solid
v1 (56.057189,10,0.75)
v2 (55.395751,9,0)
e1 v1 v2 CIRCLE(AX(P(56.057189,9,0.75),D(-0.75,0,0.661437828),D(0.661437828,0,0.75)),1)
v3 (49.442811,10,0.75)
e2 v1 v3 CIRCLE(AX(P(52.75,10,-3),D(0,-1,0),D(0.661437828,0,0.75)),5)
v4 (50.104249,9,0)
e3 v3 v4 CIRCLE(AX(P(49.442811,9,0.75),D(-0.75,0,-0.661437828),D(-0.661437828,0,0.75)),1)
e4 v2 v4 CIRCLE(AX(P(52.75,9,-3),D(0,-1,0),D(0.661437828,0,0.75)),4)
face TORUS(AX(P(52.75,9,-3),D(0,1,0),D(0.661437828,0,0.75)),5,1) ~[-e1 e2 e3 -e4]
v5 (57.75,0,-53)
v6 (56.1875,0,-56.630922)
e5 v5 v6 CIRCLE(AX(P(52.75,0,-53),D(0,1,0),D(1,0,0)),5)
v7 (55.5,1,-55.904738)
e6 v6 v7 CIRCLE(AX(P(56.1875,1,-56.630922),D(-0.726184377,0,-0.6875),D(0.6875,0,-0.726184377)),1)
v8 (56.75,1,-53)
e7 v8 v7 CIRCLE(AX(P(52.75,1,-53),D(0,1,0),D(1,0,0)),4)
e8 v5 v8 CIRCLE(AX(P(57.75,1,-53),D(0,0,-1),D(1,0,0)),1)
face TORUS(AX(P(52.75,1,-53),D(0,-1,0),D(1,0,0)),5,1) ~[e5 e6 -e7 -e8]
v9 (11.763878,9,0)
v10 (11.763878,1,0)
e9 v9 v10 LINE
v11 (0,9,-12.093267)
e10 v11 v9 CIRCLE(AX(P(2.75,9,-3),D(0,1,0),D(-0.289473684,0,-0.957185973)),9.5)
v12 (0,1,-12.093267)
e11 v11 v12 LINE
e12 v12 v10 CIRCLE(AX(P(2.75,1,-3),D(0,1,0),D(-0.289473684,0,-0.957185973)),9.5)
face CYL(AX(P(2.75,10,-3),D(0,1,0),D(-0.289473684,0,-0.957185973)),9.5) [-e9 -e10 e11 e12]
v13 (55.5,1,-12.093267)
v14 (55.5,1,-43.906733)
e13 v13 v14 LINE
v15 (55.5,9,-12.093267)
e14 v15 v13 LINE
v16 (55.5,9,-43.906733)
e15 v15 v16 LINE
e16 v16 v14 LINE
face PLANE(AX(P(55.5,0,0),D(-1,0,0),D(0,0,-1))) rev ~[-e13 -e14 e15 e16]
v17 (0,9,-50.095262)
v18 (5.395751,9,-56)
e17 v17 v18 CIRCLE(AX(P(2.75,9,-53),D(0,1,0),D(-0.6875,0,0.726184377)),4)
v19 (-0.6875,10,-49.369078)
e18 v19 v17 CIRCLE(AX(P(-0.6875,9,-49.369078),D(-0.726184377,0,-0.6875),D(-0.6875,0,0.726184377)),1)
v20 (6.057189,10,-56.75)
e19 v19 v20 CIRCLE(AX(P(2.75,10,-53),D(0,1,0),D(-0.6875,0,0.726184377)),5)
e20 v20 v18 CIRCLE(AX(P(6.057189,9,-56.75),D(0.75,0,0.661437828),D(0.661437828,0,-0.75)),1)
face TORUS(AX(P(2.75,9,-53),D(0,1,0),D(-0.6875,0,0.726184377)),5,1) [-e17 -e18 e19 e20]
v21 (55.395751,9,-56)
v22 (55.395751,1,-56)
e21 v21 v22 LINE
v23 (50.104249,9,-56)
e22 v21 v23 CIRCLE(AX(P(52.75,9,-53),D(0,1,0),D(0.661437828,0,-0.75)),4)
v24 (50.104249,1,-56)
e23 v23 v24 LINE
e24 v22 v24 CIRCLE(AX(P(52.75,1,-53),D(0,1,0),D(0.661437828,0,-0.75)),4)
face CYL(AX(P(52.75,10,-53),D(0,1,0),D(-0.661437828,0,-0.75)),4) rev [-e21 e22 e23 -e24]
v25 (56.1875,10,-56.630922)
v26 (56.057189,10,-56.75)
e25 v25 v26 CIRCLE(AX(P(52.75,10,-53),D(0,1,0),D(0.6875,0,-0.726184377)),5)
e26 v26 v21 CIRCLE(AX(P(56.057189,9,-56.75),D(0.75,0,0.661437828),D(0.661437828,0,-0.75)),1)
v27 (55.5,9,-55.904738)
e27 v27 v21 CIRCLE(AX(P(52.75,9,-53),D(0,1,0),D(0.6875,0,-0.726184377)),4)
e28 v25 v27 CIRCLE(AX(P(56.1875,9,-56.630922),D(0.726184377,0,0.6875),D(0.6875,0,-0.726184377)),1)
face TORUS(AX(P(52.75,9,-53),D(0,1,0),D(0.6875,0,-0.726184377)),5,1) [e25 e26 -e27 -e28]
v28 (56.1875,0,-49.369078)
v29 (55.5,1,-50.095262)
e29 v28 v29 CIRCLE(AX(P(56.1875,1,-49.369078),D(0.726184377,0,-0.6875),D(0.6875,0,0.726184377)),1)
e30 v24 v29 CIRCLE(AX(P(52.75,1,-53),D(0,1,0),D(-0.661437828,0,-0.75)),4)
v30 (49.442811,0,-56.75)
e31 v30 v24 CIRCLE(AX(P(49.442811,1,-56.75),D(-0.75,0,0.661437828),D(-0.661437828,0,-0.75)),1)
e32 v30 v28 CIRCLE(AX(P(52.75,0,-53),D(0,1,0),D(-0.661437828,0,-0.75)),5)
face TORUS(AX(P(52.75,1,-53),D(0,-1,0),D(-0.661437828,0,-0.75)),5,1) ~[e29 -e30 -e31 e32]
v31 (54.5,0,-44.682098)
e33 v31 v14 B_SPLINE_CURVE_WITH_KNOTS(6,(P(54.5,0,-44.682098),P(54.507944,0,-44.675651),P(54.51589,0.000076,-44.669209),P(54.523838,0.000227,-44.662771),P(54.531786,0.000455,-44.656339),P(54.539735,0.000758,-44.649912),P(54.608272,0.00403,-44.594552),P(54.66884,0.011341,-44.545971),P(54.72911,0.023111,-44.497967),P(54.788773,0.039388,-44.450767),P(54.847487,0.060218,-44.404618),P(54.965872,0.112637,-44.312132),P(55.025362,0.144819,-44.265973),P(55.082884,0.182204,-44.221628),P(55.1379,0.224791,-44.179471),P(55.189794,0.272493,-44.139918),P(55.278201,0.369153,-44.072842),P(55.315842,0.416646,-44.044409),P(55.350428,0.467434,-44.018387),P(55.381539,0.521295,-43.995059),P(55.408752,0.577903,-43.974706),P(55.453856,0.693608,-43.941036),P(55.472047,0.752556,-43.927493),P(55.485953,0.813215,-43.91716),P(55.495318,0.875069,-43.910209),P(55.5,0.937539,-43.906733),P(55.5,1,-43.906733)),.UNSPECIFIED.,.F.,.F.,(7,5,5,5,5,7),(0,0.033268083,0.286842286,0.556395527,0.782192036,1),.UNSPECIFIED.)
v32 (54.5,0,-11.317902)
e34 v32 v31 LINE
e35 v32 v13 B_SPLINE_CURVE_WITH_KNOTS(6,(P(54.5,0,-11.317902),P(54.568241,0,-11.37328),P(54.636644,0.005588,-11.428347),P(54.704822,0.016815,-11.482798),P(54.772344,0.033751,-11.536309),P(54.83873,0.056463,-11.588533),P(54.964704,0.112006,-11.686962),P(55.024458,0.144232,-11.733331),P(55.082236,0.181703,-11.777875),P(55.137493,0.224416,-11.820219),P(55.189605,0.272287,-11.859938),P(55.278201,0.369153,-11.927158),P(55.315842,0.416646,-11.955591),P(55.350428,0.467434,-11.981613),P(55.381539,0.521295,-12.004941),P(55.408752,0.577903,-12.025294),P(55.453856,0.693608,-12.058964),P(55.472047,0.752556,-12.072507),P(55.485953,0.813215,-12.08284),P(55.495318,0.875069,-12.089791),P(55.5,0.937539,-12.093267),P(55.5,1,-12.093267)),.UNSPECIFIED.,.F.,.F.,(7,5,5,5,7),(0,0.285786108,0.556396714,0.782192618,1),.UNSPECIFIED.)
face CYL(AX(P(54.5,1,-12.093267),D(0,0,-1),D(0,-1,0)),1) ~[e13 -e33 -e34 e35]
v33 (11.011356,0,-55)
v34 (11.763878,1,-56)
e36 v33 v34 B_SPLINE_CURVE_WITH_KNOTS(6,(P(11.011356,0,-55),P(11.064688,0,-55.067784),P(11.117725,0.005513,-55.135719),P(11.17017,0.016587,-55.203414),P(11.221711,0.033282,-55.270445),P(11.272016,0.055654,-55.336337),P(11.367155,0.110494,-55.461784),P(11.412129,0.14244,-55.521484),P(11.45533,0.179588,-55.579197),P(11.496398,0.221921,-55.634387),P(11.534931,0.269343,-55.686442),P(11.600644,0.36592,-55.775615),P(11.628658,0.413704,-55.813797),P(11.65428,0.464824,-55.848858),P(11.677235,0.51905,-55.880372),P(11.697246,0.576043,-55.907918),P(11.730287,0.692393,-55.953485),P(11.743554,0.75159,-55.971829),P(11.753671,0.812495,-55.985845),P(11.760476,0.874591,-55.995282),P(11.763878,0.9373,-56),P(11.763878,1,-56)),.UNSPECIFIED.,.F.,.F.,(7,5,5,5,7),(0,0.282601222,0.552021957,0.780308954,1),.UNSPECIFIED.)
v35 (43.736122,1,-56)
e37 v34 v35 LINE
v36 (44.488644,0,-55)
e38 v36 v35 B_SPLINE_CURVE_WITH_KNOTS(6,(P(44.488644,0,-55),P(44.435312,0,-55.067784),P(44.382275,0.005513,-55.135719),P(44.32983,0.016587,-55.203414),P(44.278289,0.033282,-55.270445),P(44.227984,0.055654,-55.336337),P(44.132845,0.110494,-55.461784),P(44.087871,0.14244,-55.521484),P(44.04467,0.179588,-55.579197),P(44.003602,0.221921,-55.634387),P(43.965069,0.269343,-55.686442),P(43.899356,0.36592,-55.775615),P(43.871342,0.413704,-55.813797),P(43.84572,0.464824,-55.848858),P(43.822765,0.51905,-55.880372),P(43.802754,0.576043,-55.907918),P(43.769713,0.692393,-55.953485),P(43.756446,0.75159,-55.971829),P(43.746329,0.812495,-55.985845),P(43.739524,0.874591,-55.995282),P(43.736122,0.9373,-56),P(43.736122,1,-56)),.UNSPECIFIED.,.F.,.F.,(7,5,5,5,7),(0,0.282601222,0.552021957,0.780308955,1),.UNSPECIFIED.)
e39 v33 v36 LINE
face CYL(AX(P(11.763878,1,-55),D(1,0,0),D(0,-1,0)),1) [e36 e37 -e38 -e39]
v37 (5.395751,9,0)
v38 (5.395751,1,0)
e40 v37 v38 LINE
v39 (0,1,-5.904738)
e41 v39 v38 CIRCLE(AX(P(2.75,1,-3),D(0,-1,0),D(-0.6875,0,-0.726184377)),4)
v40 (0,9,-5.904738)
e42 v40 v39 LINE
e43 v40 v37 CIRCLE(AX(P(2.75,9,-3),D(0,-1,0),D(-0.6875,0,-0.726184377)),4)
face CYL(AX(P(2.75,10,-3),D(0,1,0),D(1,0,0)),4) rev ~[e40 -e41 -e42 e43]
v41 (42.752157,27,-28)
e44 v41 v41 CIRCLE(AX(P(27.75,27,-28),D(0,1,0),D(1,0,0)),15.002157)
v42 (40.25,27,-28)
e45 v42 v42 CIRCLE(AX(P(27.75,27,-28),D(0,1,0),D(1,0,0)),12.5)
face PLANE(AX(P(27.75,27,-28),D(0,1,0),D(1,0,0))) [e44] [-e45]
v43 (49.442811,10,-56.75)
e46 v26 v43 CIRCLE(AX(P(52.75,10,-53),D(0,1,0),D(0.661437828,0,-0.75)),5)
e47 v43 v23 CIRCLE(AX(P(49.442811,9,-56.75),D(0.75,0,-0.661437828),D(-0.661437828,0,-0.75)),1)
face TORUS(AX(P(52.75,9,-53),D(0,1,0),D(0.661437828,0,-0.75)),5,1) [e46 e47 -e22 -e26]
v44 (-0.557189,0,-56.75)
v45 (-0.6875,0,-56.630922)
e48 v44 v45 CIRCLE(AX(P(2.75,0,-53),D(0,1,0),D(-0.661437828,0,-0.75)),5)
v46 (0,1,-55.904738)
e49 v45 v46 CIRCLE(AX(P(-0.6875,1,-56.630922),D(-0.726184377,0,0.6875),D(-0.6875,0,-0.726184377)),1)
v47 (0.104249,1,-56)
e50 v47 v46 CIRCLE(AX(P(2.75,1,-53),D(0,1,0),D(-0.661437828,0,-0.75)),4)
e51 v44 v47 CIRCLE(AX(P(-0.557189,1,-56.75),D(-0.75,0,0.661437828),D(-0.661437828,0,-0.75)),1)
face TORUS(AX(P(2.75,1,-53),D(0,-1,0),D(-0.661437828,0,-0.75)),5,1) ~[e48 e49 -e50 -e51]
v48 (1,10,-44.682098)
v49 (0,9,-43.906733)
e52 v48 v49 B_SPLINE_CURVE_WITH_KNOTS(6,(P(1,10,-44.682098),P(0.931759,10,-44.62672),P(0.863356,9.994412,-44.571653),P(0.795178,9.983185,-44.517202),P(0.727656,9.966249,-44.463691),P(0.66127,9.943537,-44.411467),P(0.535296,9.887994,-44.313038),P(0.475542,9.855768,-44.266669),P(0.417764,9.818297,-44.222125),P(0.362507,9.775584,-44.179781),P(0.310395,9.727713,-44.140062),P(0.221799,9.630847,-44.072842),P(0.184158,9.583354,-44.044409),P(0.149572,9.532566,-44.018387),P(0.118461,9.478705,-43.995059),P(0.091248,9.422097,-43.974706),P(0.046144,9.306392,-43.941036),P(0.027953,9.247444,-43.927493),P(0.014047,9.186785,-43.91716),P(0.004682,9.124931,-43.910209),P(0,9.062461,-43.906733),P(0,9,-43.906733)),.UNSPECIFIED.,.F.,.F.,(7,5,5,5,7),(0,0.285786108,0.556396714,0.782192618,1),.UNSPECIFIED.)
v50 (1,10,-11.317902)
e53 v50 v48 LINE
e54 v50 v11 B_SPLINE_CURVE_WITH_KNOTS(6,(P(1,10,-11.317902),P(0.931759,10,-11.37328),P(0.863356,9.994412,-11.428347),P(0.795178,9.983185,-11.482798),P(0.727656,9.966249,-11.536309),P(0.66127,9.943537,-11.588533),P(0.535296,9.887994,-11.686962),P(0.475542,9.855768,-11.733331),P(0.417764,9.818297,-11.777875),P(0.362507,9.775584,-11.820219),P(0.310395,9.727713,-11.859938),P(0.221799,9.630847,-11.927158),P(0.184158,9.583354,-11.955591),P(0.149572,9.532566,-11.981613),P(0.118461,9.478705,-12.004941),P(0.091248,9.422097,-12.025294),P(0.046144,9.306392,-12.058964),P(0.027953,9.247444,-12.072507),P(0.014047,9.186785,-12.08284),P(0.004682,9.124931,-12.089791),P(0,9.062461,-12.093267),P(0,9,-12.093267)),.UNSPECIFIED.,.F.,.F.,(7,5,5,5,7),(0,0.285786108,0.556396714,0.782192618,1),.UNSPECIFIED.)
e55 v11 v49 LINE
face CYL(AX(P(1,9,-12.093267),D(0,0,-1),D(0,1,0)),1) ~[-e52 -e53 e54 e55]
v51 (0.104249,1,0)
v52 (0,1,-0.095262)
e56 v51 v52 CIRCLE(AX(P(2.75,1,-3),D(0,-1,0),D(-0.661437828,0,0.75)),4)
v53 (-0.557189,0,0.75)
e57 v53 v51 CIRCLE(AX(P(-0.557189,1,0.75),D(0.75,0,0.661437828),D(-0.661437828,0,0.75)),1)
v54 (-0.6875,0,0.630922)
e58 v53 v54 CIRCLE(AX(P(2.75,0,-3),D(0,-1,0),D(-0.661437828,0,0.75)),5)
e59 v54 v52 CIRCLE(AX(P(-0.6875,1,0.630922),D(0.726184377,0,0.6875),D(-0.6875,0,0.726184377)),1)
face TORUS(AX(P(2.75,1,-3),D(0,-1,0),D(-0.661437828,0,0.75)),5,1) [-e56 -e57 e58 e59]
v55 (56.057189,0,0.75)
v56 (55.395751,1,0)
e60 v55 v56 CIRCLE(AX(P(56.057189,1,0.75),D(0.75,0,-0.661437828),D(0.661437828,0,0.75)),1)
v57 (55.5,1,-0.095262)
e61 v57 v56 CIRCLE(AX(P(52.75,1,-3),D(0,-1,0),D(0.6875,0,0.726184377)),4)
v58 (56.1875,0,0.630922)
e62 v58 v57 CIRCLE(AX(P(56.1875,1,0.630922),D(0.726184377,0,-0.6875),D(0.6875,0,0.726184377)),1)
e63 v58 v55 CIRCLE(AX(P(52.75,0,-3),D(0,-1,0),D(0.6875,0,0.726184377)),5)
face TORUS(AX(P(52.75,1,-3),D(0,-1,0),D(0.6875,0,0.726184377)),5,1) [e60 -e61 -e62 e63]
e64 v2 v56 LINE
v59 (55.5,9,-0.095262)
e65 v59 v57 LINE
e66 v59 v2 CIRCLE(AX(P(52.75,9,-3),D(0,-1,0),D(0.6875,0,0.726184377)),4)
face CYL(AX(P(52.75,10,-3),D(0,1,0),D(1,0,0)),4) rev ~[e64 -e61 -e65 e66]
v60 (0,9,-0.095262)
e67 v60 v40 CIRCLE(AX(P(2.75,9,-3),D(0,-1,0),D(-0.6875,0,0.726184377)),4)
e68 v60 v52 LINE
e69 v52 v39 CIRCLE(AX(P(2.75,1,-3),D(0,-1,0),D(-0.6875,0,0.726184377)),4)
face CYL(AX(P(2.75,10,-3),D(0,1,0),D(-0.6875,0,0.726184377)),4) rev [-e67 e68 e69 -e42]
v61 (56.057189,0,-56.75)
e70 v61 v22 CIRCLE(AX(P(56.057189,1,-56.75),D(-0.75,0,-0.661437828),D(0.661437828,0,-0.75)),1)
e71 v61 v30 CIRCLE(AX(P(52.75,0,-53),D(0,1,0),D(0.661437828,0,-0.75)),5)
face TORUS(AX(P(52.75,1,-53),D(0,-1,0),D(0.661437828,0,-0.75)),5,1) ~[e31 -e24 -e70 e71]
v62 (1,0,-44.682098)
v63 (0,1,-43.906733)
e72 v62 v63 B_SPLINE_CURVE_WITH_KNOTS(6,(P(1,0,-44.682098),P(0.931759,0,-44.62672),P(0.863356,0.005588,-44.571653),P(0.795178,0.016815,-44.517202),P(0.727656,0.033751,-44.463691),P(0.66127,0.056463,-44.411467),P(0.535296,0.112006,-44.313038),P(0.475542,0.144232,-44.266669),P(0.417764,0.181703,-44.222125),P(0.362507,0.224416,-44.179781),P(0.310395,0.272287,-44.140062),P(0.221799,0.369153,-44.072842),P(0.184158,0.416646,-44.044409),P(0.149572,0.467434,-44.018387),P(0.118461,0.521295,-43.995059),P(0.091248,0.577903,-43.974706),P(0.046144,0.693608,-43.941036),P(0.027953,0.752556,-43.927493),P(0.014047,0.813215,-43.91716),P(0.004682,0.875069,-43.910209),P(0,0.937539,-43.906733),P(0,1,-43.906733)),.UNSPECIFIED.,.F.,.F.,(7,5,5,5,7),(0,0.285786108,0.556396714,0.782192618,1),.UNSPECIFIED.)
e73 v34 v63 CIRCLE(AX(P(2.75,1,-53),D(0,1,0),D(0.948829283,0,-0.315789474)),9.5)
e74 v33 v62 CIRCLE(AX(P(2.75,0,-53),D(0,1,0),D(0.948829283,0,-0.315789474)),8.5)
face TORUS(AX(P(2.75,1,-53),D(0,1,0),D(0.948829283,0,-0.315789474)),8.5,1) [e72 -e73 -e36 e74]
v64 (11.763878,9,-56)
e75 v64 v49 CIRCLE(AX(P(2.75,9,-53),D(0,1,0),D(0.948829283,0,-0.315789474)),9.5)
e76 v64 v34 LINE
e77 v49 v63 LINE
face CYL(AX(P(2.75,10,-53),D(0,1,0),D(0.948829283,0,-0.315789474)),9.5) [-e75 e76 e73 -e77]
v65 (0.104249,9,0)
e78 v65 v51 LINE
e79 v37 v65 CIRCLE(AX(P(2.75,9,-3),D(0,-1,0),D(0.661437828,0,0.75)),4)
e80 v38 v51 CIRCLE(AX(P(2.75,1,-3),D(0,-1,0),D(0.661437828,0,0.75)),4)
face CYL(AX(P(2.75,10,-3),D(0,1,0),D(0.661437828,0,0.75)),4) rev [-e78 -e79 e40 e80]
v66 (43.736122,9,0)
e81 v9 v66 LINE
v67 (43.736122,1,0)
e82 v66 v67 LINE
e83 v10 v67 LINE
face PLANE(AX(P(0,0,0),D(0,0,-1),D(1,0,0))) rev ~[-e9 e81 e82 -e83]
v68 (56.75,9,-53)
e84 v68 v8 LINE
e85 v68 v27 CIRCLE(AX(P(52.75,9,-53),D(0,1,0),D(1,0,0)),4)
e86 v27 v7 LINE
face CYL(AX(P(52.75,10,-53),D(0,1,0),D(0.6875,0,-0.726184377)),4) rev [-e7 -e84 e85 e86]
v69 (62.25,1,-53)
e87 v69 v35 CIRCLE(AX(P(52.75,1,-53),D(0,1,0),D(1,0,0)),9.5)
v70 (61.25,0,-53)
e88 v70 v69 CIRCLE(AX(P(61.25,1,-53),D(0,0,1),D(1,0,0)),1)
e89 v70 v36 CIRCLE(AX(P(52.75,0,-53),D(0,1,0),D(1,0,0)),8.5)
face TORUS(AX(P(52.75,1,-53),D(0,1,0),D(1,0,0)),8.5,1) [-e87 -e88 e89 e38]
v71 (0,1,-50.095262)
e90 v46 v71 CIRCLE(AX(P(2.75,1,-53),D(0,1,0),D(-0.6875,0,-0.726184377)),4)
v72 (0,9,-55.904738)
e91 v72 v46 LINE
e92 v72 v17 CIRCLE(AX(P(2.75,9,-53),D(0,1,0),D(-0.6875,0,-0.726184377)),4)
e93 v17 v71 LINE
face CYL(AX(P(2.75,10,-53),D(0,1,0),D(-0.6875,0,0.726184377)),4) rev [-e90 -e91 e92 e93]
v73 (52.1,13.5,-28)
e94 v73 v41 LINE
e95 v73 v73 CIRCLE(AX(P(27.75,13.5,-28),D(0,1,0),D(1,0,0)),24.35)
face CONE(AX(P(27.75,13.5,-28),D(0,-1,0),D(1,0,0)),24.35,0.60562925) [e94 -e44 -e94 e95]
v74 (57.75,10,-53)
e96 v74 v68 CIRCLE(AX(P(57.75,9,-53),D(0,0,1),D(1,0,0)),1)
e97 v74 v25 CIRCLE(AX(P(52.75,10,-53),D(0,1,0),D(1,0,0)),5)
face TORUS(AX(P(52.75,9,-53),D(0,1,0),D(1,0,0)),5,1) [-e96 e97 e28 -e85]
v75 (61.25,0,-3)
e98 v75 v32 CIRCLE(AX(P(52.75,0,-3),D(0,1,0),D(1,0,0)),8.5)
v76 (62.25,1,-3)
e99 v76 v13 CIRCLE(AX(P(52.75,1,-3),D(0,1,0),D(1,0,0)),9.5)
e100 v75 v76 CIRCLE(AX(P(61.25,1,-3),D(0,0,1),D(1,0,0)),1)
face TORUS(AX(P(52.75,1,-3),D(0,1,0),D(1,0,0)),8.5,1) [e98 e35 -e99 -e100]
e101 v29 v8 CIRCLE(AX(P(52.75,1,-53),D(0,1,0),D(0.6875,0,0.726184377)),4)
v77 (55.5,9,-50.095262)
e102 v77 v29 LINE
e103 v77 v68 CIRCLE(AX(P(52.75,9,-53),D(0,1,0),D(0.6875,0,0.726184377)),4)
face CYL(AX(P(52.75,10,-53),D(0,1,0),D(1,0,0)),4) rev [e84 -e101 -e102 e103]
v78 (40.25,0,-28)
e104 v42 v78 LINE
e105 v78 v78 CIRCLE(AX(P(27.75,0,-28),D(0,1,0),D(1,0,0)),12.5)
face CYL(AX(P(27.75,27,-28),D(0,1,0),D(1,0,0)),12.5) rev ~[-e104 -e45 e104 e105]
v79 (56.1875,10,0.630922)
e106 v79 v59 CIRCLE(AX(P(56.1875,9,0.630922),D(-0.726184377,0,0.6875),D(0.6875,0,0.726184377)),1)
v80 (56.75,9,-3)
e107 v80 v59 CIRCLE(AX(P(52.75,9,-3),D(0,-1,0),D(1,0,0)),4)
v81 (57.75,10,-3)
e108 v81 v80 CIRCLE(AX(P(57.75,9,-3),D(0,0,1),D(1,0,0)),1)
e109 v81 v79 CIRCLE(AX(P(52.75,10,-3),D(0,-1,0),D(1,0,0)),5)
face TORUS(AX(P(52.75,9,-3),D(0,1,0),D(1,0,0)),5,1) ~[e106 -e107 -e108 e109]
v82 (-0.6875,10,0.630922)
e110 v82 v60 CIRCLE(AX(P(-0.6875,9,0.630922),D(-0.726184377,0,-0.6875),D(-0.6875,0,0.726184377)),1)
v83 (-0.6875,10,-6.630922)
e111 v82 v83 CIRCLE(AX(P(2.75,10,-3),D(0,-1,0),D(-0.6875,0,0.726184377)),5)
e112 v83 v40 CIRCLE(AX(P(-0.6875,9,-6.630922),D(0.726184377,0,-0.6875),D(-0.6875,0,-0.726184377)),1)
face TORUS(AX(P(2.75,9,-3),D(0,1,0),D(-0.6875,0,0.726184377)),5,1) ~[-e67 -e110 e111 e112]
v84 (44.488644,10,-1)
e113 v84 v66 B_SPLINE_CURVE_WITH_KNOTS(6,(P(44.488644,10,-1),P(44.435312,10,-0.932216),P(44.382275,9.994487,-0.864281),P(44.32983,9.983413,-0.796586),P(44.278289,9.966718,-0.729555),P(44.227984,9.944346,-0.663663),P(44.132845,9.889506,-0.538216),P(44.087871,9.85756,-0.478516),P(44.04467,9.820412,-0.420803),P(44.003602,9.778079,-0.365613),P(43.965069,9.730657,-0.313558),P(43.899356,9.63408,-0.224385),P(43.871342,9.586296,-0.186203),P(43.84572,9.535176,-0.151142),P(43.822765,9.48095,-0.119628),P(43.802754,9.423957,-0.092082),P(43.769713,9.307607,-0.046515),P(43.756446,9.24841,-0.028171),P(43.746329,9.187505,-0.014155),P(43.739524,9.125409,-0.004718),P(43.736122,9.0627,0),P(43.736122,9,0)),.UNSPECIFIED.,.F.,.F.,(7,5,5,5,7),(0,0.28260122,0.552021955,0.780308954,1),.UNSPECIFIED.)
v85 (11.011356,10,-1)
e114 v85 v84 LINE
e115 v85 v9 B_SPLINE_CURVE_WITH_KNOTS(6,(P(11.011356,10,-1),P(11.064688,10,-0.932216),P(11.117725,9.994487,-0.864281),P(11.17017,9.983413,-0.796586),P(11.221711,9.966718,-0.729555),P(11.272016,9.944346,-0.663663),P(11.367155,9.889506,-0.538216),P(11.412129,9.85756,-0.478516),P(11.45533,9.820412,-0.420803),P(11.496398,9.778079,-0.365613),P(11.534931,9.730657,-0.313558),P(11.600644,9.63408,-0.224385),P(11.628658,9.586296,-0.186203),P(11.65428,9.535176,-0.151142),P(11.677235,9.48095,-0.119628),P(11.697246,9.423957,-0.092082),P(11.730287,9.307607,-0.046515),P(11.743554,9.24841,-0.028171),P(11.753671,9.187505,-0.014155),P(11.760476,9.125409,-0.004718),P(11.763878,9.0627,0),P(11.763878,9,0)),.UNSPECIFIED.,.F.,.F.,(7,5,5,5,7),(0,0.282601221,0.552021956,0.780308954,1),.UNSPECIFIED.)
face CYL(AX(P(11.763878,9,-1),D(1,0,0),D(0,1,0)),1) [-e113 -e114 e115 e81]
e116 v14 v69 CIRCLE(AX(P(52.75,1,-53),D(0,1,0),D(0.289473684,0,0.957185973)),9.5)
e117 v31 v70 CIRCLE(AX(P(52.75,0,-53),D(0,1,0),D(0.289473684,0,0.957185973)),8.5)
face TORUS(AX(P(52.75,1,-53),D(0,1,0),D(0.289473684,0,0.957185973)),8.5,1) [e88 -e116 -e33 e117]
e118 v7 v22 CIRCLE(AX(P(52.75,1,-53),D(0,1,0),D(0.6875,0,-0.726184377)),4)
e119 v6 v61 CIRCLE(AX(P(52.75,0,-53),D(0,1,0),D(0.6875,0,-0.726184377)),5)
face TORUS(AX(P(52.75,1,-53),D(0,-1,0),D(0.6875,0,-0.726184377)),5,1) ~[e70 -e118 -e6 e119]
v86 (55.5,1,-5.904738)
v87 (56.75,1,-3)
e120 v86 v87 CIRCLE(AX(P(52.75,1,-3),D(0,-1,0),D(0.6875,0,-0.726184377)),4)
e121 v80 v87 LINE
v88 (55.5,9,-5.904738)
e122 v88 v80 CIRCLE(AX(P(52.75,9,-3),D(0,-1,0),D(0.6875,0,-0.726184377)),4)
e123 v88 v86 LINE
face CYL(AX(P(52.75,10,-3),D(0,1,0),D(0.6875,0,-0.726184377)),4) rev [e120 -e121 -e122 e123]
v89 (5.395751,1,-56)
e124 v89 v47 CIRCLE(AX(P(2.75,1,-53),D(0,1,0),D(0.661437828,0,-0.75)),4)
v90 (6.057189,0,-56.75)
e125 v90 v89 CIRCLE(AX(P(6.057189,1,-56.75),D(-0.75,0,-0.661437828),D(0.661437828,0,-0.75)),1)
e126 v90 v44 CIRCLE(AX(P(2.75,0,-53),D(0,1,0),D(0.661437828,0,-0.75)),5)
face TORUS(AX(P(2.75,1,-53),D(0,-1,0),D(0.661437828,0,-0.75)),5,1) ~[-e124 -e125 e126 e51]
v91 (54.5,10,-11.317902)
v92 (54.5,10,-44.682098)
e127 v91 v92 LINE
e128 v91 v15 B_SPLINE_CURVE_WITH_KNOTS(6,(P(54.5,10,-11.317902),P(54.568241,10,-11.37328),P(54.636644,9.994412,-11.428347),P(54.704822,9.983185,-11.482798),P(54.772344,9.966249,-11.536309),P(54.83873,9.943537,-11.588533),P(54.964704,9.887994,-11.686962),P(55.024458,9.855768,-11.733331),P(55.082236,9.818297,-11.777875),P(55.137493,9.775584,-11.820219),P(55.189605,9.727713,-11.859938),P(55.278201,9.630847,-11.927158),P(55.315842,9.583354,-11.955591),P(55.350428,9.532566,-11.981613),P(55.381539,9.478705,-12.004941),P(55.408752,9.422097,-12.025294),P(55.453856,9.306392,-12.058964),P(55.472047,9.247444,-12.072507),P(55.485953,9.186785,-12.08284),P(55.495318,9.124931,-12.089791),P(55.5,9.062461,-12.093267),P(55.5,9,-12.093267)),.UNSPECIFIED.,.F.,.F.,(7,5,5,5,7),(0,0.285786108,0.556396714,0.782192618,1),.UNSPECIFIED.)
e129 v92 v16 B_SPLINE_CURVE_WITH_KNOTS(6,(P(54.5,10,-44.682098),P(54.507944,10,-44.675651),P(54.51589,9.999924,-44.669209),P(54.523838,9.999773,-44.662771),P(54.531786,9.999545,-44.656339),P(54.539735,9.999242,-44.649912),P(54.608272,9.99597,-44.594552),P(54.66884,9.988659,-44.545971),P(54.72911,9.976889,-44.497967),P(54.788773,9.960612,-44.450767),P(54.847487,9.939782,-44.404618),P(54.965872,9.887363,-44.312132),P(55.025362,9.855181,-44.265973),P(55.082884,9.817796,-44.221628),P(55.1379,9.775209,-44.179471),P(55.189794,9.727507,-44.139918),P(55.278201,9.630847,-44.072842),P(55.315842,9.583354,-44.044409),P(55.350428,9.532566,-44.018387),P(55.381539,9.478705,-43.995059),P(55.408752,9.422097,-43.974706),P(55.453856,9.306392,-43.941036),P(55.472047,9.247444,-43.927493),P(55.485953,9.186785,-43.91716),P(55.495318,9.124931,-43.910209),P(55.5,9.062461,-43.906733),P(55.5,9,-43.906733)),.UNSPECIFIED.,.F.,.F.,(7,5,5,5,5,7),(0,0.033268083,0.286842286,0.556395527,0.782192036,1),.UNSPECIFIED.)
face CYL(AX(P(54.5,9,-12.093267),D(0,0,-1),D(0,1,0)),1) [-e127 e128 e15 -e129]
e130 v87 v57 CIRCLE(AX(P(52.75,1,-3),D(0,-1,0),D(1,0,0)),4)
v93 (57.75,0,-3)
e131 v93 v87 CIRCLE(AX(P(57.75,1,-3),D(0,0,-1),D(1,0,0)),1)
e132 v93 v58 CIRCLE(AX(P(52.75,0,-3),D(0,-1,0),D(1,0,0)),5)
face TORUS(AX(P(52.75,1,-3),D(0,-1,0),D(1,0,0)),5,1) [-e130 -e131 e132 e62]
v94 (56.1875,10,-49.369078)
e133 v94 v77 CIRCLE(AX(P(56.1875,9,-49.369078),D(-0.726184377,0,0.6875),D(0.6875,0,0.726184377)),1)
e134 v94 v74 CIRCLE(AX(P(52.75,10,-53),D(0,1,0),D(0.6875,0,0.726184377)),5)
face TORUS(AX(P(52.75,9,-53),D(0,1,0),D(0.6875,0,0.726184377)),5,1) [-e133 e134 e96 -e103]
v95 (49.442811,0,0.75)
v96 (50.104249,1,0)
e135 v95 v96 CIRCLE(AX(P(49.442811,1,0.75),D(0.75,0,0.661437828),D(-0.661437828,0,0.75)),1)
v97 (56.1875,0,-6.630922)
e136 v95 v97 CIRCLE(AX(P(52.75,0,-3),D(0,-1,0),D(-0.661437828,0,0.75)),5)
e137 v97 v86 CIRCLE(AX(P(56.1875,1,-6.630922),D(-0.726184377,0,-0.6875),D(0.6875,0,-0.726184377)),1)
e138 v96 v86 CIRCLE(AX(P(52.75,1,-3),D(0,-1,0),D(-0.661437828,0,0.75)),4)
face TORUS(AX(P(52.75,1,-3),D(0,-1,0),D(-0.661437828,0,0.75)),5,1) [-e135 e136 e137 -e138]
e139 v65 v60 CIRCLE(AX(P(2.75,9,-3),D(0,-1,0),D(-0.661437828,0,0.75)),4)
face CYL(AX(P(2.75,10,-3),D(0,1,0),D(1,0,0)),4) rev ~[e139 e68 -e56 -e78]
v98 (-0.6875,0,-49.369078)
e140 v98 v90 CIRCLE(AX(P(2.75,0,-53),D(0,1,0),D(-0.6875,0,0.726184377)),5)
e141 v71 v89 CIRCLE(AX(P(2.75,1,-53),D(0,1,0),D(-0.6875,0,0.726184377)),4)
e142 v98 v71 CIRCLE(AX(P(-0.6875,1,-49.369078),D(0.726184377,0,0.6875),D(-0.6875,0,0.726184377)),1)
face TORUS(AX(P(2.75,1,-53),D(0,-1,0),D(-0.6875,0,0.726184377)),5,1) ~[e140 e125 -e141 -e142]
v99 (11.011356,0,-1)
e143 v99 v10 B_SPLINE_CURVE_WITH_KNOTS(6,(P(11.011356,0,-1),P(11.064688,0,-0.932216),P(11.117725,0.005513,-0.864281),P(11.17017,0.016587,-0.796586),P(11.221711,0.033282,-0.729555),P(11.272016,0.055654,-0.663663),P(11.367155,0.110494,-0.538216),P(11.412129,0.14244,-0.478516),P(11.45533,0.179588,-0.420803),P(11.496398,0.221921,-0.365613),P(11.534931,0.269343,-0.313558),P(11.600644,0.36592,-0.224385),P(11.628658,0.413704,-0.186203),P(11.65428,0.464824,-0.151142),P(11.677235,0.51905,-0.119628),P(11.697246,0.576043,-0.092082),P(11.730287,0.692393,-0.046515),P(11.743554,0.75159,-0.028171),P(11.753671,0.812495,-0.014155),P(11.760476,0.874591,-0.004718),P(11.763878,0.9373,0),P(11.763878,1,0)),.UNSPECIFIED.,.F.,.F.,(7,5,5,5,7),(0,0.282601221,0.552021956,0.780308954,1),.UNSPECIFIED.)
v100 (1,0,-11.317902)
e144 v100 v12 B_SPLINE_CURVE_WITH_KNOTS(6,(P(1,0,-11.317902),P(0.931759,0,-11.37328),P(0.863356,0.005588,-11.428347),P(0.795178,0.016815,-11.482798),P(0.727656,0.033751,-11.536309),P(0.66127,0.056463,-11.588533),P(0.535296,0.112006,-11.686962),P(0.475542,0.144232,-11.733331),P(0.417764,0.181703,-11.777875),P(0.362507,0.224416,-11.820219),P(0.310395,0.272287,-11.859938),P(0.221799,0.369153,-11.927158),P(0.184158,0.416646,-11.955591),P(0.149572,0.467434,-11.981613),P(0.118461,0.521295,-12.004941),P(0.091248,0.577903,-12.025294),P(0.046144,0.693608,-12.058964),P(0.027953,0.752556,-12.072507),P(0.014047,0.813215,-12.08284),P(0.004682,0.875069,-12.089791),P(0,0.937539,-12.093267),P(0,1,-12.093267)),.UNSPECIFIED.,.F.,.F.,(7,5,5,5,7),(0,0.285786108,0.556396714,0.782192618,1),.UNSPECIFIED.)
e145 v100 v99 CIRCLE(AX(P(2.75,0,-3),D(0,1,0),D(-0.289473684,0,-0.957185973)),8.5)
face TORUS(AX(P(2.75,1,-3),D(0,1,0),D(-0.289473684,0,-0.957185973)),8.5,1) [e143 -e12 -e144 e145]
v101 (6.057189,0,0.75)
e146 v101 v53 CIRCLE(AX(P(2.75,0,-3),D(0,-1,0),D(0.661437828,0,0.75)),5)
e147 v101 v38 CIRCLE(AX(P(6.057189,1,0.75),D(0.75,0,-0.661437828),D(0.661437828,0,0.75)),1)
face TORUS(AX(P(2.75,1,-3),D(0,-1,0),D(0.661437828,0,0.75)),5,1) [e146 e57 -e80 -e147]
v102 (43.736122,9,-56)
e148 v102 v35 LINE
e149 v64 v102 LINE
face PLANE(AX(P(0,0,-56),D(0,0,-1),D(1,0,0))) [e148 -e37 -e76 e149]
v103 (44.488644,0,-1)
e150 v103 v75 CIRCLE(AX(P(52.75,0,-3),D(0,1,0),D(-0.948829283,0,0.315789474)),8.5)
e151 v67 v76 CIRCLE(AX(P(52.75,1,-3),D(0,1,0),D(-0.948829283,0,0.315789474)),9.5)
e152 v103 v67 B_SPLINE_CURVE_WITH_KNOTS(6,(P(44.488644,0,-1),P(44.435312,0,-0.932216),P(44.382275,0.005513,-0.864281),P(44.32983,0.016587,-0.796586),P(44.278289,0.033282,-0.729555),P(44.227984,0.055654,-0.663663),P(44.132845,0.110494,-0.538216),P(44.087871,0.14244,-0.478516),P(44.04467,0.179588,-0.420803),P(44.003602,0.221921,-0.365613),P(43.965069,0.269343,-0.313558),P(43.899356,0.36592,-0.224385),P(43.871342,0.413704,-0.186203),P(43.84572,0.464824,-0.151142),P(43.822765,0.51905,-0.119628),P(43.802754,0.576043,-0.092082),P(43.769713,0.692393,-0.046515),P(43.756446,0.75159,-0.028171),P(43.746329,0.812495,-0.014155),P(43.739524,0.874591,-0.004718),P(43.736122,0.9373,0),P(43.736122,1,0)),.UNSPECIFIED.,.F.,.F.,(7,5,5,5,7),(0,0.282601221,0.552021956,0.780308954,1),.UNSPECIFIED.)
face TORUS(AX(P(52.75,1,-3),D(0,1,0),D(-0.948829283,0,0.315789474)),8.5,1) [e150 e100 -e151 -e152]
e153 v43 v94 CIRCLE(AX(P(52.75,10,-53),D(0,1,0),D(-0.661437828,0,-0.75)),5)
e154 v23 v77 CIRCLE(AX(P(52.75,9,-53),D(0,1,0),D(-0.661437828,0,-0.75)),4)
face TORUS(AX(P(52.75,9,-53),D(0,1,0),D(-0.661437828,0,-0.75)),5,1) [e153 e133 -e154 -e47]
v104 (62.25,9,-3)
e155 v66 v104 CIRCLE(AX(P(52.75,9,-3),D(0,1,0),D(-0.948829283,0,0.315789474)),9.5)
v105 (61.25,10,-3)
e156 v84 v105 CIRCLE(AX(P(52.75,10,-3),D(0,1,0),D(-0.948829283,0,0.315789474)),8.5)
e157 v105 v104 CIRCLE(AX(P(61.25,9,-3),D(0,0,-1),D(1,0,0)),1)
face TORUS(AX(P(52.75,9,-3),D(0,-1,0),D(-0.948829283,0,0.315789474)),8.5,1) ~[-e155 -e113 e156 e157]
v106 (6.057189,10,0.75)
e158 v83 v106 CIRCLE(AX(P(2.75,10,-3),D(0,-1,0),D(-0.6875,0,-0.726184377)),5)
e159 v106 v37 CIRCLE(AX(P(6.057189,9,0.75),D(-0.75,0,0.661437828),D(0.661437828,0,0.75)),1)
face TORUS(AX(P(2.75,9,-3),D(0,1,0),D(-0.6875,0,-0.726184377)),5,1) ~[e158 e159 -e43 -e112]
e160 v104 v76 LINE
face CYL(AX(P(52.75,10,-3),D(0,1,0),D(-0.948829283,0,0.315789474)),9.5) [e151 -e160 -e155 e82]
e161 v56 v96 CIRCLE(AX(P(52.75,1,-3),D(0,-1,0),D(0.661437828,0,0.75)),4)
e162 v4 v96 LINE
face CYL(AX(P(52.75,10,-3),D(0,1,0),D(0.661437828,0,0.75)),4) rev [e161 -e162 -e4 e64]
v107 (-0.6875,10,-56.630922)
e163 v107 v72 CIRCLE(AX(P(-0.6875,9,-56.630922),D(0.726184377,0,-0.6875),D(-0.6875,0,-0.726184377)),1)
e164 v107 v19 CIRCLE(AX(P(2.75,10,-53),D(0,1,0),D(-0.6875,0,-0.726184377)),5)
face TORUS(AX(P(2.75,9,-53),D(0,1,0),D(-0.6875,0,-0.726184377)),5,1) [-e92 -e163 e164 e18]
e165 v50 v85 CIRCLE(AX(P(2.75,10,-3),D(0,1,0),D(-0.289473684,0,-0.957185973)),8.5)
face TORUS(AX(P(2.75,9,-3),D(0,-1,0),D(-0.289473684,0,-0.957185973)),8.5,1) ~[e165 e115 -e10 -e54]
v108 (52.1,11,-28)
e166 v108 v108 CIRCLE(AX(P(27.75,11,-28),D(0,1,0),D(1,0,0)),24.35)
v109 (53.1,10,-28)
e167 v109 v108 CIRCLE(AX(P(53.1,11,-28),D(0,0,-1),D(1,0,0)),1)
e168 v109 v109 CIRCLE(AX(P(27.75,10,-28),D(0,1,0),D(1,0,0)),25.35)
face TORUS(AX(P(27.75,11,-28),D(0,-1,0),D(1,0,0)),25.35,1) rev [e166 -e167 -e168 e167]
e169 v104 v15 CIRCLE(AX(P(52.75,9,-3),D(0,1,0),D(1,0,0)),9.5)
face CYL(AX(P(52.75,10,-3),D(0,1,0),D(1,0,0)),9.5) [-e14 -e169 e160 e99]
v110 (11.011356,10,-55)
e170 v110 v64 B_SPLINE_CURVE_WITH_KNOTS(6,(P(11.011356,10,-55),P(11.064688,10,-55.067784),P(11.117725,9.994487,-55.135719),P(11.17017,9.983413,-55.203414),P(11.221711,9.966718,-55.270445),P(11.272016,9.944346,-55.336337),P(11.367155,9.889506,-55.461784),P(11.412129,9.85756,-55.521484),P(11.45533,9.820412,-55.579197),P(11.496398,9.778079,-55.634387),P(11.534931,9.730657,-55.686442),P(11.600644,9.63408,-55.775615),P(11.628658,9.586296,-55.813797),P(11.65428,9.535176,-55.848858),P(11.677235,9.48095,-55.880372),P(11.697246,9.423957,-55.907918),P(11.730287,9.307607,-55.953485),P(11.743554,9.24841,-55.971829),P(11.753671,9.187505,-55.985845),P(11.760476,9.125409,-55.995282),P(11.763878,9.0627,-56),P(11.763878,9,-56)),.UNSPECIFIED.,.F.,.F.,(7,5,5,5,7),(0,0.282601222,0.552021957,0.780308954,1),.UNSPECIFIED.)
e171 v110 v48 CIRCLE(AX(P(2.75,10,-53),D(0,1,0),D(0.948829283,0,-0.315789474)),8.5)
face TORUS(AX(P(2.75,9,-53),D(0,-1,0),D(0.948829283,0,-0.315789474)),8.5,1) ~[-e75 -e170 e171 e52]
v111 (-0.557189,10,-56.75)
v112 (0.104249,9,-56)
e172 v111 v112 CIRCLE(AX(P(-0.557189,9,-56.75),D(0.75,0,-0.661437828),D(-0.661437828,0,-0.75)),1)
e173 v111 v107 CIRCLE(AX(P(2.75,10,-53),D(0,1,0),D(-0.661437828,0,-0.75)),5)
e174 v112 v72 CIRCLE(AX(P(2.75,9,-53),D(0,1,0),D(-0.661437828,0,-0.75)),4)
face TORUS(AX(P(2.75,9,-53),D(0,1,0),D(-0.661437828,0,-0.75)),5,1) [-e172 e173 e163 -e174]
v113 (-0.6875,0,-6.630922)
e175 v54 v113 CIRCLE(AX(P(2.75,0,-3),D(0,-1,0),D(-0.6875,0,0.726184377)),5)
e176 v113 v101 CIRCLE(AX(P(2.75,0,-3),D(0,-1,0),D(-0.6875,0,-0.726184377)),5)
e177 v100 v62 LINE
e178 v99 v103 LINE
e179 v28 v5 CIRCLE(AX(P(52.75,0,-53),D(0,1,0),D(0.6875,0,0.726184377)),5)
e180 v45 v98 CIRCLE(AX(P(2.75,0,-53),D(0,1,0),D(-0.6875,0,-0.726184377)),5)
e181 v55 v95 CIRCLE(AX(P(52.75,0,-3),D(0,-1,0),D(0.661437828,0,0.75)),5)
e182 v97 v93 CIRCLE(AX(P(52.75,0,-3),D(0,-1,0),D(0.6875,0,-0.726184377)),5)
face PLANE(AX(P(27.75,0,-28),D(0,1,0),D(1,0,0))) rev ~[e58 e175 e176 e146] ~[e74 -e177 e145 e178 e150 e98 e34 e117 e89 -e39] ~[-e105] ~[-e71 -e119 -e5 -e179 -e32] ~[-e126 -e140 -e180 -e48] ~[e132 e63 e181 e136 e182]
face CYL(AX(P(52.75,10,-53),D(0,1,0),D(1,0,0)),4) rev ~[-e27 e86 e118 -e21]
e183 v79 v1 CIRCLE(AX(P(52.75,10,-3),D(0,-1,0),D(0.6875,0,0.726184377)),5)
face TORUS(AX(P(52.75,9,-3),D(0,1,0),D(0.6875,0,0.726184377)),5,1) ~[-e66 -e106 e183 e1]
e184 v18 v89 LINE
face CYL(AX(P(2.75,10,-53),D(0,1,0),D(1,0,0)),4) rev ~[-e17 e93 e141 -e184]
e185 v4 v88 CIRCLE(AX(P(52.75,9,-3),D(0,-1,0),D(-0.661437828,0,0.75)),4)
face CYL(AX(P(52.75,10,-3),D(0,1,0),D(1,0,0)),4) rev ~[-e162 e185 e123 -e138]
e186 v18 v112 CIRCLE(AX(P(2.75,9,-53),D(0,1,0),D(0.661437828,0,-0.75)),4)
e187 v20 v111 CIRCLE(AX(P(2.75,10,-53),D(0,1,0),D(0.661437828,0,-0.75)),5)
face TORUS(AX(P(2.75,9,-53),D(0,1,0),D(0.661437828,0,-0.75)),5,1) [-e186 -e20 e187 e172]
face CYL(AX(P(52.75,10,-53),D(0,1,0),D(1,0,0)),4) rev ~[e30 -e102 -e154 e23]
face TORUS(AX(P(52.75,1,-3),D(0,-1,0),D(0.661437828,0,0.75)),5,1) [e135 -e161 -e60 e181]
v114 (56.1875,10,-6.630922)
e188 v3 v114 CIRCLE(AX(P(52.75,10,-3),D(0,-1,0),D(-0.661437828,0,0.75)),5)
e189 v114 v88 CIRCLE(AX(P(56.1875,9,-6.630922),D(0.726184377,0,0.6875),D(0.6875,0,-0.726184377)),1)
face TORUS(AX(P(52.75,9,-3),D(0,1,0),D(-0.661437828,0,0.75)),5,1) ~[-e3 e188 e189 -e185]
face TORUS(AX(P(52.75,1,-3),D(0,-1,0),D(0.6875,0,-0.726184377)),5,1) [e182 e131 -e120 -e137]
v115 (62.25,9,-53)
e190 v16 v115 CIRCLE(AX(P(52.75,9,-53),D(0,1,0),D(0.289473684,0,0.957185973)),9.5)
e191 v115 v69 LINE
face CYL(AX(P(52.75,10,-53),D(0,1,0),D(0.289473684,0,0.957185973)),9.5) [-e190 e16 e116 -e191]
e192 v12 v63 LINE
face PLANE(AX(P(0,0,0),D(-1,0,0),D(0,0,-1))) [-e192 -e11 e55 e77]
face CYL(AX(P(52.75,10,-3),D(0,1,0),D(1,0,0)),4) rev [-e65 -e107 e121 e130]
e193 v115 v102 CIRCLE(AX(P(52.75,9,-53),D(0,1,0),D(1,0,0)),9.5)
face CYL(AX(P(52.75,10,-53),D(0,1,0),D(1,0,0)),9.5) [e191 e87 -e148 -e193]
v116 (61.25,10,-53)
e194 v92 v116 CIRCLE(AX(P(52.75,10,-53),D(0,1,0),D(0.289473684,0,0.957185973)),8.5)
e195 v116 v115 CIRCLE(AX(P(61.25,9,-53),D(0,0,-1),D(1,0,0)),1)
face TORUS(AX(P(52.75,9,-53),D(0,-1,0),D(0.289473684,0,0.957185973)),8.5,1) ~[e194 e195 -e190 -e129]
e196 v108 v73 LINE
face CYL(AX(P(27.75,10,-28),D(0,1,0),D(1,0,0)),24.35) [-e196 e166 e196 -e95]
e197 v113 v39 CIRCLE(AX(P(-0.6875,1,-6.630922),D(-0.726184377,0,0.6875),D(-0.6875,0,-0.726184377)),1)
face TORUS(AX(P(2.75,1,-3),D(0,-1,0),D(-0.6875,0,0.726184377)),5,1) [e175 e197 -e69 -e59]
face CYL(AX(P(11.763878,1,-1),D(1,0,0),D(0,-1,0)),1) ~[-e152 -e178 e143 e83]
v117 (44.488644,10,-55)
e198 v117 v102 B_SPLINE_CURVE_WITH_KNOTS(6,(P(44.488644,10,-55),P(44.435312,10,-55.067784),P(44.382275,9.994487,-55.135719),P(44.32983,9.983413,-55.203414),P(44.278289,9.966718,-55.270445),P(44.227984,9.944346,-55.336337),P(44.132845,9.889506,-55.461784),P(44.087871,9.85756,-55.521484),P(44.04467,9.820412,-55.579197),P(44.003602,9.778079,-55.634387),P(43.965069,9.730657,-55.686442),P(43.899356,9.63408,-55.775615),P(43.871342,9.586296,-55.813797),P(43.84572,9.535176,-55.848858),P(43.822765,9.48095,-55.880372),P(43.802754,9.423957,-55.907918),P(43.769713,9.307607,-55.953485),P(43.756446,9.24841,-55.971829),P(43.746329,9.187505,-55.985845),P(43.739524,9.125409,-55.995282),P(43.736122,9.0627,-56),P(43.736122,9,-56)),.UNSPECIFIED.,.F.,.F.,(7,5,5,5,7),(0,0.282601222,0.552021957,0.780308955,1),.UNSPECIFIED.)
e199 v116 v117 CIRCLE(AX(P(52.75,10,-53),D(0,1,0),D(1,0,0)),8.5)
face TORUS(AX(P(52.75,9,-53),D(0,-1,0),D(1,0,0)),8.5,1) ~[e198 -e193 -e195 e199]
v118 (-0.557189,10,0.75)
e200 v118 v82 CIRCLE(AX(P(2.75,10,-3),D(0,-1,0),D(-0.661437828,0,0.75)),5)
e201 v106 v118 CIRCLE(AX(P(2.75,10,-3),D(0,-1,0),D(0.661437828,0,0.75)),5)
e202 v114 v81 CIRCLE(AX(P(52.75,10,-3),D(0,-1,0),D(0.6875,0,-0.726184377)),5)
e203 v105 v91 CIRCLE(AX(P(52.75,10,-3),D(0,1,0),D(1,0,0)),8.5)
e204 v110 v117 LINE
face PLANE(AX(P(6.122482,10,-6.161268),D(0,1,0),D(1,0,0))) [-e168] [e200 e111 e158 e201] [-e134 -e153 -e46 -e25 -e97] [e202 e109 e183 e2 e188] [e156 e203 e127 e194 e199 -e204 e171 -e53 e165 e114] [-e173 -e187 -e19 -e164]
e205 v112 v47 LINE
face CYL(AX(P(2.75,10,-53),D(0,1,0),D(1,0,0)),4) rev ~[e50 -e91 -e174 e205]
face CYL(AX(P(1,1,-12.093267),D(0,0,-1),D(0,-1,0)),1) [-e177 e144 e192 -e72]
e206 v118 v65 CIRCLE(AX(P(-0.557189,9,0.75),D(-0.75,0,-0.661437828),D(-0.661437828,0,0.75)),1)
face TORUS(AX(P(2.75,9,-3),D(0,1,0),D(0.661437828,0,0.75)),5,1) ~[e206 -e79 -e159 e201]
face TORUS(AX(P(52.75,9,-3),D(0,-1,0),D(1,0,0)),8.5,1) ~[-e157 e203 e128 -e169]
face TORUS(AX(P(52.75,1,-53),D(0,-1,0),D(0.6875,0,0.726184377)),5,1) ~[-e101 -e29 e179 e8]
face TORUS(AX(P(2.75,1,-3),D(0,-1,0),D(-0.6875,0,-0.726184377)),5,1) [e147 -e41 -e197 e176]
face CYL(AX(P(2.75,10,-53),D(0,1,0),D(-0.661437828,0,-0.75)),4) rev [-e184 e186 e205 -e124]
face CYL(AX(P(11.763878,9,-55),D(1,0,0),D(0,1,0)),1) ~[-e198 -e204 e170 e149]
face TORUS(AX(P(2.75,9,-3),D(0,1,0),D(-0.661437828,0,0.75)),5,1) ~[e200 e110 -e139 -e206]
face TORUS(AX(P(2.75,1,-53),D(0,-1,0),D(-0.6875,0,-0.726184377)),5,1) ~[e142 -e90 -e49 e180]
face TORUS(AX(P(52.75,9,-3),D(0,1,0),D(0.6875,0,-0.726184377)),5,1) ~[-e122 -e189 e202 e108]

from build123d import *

# Parameters (mm, degrees)
SKETCH1_W           = 55.5
SKETCH1_H           = 56
BOSS_EXTRUDE1_DEPTH = 10
BOSS_EXTRUDE2_DEPTH = 10
SKETCH2_3_R         = 4
CUT_EXTRUDE1_DEPTH  = 10
FILLET1_R           = 1
FILLET2_R           = 1
SKETCH4_R           = 12.5
CUT_EXTRUDE2_DEPTH  = 27


with BuildPart() as part:
    # Sketch1 → Boss-Extrude1 (new body)
    with BuildSketch(Plane(origin=(0, 0, 0), x_dir=(1, 0, 0), z_dir=(0, 1, 0))):
        with Locations((27.75, 28)):
            Rectangle(SKETCH1_W, SKETCH1_H)
    extrude(amount=BOSS_EXTRUDE1_DEPTH)

    # Sketch2 → Boss-Extrude2 (add)
    with BuildSketch(Plane(origin=(0, 10, 0), x_dir=(1, 0, 0), z_dir=(0, 1, 0))):
        with BuildLine():
            ThreePointArc((11.763878189, 0), (12.127682091, 1.480434732), (12.25, 3))
            ThreePointArc((12.25, 3), (8.412375826, 10.628073151), (0, 12.09326674))
            Line((0, 12.09326674), (0, 5.90473751))
            ThreePointArc((0, 5.90473751), (4.33113883, 6.674234614), (6.75, 3))
            ThreePointArc((6.75, 3), (6.395751311, 1.354248689), (5.395751311, 0))
            Line((5.395751311, 0), (11.763878189, 0))
        make_face()
        with BuildLine():
            Line((0, 5.90473751), (0, 12.09326674))
            ThreePointArc((0, 12.09326674), (-4.059612148, -3.624136351), (11.763878189, 0))
            Line((11.763878189, 0), (5.395751311, 0))
            ThreePointArc((5.395751311, 0), (2.75, -1), (0.104248689, 0))
            Line((0.104248689, 0), (0, 0))
            Line((0, 0), (0, 0.09526249))
            ThreePointArc((0, 0.09526249), (-1.25, 3), (0, 5.90473751))
        make_face()
        with BuildLine():
            Line((0, 50.09526249), (0, 43.90673326))
            ThreePointArc((0, 43.90673326), (8.412375826, 45.371926849), (12.25, 53))
            ThreePointArc((12.25, 53), (12.127682091, 54.519565268), (11.763878189, 56))
            Line((11.763878189, 56), (5.395751311, 56))
            ThreePointArc((5.395751311, 56), (6.395751311, 54.645751311), (6.75, 53))
            ThreePointArc((6.75, 53), (4.33113883, 49.325765386), (0, 50.09526249))
        make_face()
        with BuildLine():
            ThreePointArc((11.763878189, 56), (-4.059612148, 59.624136351), (0, 43.90673326))
            Line((0, 43.90673326), (0, 50.09526249))
            ThreePointArc((0, 50.09526249), (-1.25, 53), (0, 55.90473751))
            Line((0, 55.90473751), (0, 56))
            Line((0, 56), (0.104248689, 56))
            ThreePointArc((0.104248689, 56), (2.75, 57), (5.395751311, 56))
            Line((5.395751311, 56), (11.763878189, 56))
        make_face()
        with BuildLine():
            Line((50.104248689, 56), (43.736121811, 56))
            ThreePointArc((43.736121811, 56), (45.940387852, 46.375863649), (55.5, 43.90673326))
            Line((55.5, 43.90673326), (55.5, 50.09526249))
            ThreePointArc((55.5, 50.09526249), (49.797171151, 50.30170391), (50.104248689, 56))
        make_face()
        with BuildLine():
            ThreePointArc((62.25, 53), (54.269565268, 62.377682091), (43.736121811, 56))
            Line((43.736121811, 56), (50.104248689, 56))
            ThreePointArc((50.104248689, 56), (52.75, 57), (55.395751311, 56))
            Line((55.395751311, 56), (55.5, 56))
            Line((55.5, 56), (55.5, 55.90473751))
            ThreePointArc((55.5, 55.90473751), (56.424234614, 54.58113883), (56.75, 53))
            ThreePointArc((56.75, 53), (56.424234614, 51.41886117), (55.5, 50.09526249))
            Line((55.5, 50.09526249), (55.5, 43.90673326))
            ThreePointArc((55.5, 43.90673326), (60.378073151, 47.337624174), (62.25, 53))
        make_face()
        with BuildLine():
            Line((50.104248689, 0), (43.736121811, 0))
            ThreePointArc((43.736121811, 0), (54.269565268, -6.377682091), (62.25, 3))
            ThreePointArc((62.25, 3), (60.378073151, 8.662375826), (55.5, 12.09326674))
            Line((55.5, 12.09326674), (55.5, 5.90473751))
            ThreePointArc((55.5, 5.90473751), (56.424234614, 4.58113883), (56.75, 3))
            ThreePointArc((56.75, 3), (56.424234614, 1.41886117), (55.5, 0.09526249))
            Line((55.5, 0.09526249), (55.5, 0))
            Line((55.5, 0), (55.395751311, 0))
            ThreePointArc((55.395751311, 0), (52.75, -1), (50.104248689, 0))
        make_face()
        with BuildLine():
            ThreePointArc((55.5, 12.09326674), (45.940387852, 9.624136351), (43.736121811, 0))
            Line((43.736121811, 0), (50.104248689, 0))
            ThreePointArc((50.104248689, 0), (49.797171151, 5.69829609), (55.5, 5.90473751))
            Line((55.5, 5.90473751), (55.5, 12.09326674))
        make_face()
    extrude(amount=-BOSS_EXTRUDE2_DEPTH)

    # Sketch2<3> → Cut-Extrude1 (cut)
    with BuildSketch(Plane(origin=(0, 10, 0), x_dir=(1, 0, 0), z_dir=(0, 1, 0))):
        with Locations((2.75, 3)):
            Circle(SKETCH2_3_R)
        with Locations((52.75, 3)):
            Circle(SKETCH2_3_R)
        with Locations((52.75, 53)):
            Circle(SKETCH2_3_R)
        with Locations((2.75, 53)):
            Circle(SKETCH2_3_R)
    extrude(amount=-CUT_EXTRUDE1_DEPTH, mode=Mode.SUBTRACT)

    # Fillet1
    fillet1_edges = [part.edges().sort_by_distance(p)[0] for p in [
        (27.75, 10, 0),
        (0, 10, -28),
        (2.75, 10, 1),
        (-4.059612148, 10, 3.624136351),
        (27.75, 10, -56),
        (4.33113883, 10, -49.325765386),
        (-4.059612148, 10, -59.624136351),
        (49.797171151, 10, -50.30170391),
        (59.559612148, 10, -59.624136351),
        (55.5, 10, -28),
        (52.75, 10, 1),
        (59.559612148, 10, 3.624136351),
    ]]
    fillet(fillet1_edges, radius=FILLET1_R)

    # Sketch3 → Revolve1 (revolve)
    with BuildSketch(Plane.XY.offset(-28)):
        Polygon((40.25, 10), (52.1, 10), (52.1, 13.5), (42.752156821, 27), (40.25, 27), align=None)
    revolve(axis=Axis((27.75, -3.834604124, -28), (0, 1, 0)))

    # Fillet2
    fillet2_edges = [part.edges().sort_by_distance(p)[0] for p in [
        (27.75, 0, 0),
        (0, 0, -28),
        (3.4, 10, -28),
        (-4.059612148, 0, 3.624136351),
        (2.75, 0, 1),
        (27.75, 0, -56),
        (-4.059612148, 0, -59.624136351),
        (4.33113883, 0, -49.325765386),
        (59.559612148, 0, -59.624136351),
        (49.797171151, 0, -50.30170391),
        (55.5, 0, -28),
        (59.559612148, 0, 3.624136351),
        (52.75, 0, 1),
    ]]
    fillet(fillet2_edges, radius=FILLET2_R)

    # Sketch4 → Cut-Extrude2 (cut)
    with BuildSketch(Plane(origin=(0, 27, 0), x_dir=(1, 0, 0), z_dir=(0, 1, 0))):
        with Locations((27.75, 28)):
            Circle(SKETCH4_R)
    extrude(amount=-CUT_EXTRUDE2_DEPTH, mode=Mode.SUBTRACT)


solid = part.part
